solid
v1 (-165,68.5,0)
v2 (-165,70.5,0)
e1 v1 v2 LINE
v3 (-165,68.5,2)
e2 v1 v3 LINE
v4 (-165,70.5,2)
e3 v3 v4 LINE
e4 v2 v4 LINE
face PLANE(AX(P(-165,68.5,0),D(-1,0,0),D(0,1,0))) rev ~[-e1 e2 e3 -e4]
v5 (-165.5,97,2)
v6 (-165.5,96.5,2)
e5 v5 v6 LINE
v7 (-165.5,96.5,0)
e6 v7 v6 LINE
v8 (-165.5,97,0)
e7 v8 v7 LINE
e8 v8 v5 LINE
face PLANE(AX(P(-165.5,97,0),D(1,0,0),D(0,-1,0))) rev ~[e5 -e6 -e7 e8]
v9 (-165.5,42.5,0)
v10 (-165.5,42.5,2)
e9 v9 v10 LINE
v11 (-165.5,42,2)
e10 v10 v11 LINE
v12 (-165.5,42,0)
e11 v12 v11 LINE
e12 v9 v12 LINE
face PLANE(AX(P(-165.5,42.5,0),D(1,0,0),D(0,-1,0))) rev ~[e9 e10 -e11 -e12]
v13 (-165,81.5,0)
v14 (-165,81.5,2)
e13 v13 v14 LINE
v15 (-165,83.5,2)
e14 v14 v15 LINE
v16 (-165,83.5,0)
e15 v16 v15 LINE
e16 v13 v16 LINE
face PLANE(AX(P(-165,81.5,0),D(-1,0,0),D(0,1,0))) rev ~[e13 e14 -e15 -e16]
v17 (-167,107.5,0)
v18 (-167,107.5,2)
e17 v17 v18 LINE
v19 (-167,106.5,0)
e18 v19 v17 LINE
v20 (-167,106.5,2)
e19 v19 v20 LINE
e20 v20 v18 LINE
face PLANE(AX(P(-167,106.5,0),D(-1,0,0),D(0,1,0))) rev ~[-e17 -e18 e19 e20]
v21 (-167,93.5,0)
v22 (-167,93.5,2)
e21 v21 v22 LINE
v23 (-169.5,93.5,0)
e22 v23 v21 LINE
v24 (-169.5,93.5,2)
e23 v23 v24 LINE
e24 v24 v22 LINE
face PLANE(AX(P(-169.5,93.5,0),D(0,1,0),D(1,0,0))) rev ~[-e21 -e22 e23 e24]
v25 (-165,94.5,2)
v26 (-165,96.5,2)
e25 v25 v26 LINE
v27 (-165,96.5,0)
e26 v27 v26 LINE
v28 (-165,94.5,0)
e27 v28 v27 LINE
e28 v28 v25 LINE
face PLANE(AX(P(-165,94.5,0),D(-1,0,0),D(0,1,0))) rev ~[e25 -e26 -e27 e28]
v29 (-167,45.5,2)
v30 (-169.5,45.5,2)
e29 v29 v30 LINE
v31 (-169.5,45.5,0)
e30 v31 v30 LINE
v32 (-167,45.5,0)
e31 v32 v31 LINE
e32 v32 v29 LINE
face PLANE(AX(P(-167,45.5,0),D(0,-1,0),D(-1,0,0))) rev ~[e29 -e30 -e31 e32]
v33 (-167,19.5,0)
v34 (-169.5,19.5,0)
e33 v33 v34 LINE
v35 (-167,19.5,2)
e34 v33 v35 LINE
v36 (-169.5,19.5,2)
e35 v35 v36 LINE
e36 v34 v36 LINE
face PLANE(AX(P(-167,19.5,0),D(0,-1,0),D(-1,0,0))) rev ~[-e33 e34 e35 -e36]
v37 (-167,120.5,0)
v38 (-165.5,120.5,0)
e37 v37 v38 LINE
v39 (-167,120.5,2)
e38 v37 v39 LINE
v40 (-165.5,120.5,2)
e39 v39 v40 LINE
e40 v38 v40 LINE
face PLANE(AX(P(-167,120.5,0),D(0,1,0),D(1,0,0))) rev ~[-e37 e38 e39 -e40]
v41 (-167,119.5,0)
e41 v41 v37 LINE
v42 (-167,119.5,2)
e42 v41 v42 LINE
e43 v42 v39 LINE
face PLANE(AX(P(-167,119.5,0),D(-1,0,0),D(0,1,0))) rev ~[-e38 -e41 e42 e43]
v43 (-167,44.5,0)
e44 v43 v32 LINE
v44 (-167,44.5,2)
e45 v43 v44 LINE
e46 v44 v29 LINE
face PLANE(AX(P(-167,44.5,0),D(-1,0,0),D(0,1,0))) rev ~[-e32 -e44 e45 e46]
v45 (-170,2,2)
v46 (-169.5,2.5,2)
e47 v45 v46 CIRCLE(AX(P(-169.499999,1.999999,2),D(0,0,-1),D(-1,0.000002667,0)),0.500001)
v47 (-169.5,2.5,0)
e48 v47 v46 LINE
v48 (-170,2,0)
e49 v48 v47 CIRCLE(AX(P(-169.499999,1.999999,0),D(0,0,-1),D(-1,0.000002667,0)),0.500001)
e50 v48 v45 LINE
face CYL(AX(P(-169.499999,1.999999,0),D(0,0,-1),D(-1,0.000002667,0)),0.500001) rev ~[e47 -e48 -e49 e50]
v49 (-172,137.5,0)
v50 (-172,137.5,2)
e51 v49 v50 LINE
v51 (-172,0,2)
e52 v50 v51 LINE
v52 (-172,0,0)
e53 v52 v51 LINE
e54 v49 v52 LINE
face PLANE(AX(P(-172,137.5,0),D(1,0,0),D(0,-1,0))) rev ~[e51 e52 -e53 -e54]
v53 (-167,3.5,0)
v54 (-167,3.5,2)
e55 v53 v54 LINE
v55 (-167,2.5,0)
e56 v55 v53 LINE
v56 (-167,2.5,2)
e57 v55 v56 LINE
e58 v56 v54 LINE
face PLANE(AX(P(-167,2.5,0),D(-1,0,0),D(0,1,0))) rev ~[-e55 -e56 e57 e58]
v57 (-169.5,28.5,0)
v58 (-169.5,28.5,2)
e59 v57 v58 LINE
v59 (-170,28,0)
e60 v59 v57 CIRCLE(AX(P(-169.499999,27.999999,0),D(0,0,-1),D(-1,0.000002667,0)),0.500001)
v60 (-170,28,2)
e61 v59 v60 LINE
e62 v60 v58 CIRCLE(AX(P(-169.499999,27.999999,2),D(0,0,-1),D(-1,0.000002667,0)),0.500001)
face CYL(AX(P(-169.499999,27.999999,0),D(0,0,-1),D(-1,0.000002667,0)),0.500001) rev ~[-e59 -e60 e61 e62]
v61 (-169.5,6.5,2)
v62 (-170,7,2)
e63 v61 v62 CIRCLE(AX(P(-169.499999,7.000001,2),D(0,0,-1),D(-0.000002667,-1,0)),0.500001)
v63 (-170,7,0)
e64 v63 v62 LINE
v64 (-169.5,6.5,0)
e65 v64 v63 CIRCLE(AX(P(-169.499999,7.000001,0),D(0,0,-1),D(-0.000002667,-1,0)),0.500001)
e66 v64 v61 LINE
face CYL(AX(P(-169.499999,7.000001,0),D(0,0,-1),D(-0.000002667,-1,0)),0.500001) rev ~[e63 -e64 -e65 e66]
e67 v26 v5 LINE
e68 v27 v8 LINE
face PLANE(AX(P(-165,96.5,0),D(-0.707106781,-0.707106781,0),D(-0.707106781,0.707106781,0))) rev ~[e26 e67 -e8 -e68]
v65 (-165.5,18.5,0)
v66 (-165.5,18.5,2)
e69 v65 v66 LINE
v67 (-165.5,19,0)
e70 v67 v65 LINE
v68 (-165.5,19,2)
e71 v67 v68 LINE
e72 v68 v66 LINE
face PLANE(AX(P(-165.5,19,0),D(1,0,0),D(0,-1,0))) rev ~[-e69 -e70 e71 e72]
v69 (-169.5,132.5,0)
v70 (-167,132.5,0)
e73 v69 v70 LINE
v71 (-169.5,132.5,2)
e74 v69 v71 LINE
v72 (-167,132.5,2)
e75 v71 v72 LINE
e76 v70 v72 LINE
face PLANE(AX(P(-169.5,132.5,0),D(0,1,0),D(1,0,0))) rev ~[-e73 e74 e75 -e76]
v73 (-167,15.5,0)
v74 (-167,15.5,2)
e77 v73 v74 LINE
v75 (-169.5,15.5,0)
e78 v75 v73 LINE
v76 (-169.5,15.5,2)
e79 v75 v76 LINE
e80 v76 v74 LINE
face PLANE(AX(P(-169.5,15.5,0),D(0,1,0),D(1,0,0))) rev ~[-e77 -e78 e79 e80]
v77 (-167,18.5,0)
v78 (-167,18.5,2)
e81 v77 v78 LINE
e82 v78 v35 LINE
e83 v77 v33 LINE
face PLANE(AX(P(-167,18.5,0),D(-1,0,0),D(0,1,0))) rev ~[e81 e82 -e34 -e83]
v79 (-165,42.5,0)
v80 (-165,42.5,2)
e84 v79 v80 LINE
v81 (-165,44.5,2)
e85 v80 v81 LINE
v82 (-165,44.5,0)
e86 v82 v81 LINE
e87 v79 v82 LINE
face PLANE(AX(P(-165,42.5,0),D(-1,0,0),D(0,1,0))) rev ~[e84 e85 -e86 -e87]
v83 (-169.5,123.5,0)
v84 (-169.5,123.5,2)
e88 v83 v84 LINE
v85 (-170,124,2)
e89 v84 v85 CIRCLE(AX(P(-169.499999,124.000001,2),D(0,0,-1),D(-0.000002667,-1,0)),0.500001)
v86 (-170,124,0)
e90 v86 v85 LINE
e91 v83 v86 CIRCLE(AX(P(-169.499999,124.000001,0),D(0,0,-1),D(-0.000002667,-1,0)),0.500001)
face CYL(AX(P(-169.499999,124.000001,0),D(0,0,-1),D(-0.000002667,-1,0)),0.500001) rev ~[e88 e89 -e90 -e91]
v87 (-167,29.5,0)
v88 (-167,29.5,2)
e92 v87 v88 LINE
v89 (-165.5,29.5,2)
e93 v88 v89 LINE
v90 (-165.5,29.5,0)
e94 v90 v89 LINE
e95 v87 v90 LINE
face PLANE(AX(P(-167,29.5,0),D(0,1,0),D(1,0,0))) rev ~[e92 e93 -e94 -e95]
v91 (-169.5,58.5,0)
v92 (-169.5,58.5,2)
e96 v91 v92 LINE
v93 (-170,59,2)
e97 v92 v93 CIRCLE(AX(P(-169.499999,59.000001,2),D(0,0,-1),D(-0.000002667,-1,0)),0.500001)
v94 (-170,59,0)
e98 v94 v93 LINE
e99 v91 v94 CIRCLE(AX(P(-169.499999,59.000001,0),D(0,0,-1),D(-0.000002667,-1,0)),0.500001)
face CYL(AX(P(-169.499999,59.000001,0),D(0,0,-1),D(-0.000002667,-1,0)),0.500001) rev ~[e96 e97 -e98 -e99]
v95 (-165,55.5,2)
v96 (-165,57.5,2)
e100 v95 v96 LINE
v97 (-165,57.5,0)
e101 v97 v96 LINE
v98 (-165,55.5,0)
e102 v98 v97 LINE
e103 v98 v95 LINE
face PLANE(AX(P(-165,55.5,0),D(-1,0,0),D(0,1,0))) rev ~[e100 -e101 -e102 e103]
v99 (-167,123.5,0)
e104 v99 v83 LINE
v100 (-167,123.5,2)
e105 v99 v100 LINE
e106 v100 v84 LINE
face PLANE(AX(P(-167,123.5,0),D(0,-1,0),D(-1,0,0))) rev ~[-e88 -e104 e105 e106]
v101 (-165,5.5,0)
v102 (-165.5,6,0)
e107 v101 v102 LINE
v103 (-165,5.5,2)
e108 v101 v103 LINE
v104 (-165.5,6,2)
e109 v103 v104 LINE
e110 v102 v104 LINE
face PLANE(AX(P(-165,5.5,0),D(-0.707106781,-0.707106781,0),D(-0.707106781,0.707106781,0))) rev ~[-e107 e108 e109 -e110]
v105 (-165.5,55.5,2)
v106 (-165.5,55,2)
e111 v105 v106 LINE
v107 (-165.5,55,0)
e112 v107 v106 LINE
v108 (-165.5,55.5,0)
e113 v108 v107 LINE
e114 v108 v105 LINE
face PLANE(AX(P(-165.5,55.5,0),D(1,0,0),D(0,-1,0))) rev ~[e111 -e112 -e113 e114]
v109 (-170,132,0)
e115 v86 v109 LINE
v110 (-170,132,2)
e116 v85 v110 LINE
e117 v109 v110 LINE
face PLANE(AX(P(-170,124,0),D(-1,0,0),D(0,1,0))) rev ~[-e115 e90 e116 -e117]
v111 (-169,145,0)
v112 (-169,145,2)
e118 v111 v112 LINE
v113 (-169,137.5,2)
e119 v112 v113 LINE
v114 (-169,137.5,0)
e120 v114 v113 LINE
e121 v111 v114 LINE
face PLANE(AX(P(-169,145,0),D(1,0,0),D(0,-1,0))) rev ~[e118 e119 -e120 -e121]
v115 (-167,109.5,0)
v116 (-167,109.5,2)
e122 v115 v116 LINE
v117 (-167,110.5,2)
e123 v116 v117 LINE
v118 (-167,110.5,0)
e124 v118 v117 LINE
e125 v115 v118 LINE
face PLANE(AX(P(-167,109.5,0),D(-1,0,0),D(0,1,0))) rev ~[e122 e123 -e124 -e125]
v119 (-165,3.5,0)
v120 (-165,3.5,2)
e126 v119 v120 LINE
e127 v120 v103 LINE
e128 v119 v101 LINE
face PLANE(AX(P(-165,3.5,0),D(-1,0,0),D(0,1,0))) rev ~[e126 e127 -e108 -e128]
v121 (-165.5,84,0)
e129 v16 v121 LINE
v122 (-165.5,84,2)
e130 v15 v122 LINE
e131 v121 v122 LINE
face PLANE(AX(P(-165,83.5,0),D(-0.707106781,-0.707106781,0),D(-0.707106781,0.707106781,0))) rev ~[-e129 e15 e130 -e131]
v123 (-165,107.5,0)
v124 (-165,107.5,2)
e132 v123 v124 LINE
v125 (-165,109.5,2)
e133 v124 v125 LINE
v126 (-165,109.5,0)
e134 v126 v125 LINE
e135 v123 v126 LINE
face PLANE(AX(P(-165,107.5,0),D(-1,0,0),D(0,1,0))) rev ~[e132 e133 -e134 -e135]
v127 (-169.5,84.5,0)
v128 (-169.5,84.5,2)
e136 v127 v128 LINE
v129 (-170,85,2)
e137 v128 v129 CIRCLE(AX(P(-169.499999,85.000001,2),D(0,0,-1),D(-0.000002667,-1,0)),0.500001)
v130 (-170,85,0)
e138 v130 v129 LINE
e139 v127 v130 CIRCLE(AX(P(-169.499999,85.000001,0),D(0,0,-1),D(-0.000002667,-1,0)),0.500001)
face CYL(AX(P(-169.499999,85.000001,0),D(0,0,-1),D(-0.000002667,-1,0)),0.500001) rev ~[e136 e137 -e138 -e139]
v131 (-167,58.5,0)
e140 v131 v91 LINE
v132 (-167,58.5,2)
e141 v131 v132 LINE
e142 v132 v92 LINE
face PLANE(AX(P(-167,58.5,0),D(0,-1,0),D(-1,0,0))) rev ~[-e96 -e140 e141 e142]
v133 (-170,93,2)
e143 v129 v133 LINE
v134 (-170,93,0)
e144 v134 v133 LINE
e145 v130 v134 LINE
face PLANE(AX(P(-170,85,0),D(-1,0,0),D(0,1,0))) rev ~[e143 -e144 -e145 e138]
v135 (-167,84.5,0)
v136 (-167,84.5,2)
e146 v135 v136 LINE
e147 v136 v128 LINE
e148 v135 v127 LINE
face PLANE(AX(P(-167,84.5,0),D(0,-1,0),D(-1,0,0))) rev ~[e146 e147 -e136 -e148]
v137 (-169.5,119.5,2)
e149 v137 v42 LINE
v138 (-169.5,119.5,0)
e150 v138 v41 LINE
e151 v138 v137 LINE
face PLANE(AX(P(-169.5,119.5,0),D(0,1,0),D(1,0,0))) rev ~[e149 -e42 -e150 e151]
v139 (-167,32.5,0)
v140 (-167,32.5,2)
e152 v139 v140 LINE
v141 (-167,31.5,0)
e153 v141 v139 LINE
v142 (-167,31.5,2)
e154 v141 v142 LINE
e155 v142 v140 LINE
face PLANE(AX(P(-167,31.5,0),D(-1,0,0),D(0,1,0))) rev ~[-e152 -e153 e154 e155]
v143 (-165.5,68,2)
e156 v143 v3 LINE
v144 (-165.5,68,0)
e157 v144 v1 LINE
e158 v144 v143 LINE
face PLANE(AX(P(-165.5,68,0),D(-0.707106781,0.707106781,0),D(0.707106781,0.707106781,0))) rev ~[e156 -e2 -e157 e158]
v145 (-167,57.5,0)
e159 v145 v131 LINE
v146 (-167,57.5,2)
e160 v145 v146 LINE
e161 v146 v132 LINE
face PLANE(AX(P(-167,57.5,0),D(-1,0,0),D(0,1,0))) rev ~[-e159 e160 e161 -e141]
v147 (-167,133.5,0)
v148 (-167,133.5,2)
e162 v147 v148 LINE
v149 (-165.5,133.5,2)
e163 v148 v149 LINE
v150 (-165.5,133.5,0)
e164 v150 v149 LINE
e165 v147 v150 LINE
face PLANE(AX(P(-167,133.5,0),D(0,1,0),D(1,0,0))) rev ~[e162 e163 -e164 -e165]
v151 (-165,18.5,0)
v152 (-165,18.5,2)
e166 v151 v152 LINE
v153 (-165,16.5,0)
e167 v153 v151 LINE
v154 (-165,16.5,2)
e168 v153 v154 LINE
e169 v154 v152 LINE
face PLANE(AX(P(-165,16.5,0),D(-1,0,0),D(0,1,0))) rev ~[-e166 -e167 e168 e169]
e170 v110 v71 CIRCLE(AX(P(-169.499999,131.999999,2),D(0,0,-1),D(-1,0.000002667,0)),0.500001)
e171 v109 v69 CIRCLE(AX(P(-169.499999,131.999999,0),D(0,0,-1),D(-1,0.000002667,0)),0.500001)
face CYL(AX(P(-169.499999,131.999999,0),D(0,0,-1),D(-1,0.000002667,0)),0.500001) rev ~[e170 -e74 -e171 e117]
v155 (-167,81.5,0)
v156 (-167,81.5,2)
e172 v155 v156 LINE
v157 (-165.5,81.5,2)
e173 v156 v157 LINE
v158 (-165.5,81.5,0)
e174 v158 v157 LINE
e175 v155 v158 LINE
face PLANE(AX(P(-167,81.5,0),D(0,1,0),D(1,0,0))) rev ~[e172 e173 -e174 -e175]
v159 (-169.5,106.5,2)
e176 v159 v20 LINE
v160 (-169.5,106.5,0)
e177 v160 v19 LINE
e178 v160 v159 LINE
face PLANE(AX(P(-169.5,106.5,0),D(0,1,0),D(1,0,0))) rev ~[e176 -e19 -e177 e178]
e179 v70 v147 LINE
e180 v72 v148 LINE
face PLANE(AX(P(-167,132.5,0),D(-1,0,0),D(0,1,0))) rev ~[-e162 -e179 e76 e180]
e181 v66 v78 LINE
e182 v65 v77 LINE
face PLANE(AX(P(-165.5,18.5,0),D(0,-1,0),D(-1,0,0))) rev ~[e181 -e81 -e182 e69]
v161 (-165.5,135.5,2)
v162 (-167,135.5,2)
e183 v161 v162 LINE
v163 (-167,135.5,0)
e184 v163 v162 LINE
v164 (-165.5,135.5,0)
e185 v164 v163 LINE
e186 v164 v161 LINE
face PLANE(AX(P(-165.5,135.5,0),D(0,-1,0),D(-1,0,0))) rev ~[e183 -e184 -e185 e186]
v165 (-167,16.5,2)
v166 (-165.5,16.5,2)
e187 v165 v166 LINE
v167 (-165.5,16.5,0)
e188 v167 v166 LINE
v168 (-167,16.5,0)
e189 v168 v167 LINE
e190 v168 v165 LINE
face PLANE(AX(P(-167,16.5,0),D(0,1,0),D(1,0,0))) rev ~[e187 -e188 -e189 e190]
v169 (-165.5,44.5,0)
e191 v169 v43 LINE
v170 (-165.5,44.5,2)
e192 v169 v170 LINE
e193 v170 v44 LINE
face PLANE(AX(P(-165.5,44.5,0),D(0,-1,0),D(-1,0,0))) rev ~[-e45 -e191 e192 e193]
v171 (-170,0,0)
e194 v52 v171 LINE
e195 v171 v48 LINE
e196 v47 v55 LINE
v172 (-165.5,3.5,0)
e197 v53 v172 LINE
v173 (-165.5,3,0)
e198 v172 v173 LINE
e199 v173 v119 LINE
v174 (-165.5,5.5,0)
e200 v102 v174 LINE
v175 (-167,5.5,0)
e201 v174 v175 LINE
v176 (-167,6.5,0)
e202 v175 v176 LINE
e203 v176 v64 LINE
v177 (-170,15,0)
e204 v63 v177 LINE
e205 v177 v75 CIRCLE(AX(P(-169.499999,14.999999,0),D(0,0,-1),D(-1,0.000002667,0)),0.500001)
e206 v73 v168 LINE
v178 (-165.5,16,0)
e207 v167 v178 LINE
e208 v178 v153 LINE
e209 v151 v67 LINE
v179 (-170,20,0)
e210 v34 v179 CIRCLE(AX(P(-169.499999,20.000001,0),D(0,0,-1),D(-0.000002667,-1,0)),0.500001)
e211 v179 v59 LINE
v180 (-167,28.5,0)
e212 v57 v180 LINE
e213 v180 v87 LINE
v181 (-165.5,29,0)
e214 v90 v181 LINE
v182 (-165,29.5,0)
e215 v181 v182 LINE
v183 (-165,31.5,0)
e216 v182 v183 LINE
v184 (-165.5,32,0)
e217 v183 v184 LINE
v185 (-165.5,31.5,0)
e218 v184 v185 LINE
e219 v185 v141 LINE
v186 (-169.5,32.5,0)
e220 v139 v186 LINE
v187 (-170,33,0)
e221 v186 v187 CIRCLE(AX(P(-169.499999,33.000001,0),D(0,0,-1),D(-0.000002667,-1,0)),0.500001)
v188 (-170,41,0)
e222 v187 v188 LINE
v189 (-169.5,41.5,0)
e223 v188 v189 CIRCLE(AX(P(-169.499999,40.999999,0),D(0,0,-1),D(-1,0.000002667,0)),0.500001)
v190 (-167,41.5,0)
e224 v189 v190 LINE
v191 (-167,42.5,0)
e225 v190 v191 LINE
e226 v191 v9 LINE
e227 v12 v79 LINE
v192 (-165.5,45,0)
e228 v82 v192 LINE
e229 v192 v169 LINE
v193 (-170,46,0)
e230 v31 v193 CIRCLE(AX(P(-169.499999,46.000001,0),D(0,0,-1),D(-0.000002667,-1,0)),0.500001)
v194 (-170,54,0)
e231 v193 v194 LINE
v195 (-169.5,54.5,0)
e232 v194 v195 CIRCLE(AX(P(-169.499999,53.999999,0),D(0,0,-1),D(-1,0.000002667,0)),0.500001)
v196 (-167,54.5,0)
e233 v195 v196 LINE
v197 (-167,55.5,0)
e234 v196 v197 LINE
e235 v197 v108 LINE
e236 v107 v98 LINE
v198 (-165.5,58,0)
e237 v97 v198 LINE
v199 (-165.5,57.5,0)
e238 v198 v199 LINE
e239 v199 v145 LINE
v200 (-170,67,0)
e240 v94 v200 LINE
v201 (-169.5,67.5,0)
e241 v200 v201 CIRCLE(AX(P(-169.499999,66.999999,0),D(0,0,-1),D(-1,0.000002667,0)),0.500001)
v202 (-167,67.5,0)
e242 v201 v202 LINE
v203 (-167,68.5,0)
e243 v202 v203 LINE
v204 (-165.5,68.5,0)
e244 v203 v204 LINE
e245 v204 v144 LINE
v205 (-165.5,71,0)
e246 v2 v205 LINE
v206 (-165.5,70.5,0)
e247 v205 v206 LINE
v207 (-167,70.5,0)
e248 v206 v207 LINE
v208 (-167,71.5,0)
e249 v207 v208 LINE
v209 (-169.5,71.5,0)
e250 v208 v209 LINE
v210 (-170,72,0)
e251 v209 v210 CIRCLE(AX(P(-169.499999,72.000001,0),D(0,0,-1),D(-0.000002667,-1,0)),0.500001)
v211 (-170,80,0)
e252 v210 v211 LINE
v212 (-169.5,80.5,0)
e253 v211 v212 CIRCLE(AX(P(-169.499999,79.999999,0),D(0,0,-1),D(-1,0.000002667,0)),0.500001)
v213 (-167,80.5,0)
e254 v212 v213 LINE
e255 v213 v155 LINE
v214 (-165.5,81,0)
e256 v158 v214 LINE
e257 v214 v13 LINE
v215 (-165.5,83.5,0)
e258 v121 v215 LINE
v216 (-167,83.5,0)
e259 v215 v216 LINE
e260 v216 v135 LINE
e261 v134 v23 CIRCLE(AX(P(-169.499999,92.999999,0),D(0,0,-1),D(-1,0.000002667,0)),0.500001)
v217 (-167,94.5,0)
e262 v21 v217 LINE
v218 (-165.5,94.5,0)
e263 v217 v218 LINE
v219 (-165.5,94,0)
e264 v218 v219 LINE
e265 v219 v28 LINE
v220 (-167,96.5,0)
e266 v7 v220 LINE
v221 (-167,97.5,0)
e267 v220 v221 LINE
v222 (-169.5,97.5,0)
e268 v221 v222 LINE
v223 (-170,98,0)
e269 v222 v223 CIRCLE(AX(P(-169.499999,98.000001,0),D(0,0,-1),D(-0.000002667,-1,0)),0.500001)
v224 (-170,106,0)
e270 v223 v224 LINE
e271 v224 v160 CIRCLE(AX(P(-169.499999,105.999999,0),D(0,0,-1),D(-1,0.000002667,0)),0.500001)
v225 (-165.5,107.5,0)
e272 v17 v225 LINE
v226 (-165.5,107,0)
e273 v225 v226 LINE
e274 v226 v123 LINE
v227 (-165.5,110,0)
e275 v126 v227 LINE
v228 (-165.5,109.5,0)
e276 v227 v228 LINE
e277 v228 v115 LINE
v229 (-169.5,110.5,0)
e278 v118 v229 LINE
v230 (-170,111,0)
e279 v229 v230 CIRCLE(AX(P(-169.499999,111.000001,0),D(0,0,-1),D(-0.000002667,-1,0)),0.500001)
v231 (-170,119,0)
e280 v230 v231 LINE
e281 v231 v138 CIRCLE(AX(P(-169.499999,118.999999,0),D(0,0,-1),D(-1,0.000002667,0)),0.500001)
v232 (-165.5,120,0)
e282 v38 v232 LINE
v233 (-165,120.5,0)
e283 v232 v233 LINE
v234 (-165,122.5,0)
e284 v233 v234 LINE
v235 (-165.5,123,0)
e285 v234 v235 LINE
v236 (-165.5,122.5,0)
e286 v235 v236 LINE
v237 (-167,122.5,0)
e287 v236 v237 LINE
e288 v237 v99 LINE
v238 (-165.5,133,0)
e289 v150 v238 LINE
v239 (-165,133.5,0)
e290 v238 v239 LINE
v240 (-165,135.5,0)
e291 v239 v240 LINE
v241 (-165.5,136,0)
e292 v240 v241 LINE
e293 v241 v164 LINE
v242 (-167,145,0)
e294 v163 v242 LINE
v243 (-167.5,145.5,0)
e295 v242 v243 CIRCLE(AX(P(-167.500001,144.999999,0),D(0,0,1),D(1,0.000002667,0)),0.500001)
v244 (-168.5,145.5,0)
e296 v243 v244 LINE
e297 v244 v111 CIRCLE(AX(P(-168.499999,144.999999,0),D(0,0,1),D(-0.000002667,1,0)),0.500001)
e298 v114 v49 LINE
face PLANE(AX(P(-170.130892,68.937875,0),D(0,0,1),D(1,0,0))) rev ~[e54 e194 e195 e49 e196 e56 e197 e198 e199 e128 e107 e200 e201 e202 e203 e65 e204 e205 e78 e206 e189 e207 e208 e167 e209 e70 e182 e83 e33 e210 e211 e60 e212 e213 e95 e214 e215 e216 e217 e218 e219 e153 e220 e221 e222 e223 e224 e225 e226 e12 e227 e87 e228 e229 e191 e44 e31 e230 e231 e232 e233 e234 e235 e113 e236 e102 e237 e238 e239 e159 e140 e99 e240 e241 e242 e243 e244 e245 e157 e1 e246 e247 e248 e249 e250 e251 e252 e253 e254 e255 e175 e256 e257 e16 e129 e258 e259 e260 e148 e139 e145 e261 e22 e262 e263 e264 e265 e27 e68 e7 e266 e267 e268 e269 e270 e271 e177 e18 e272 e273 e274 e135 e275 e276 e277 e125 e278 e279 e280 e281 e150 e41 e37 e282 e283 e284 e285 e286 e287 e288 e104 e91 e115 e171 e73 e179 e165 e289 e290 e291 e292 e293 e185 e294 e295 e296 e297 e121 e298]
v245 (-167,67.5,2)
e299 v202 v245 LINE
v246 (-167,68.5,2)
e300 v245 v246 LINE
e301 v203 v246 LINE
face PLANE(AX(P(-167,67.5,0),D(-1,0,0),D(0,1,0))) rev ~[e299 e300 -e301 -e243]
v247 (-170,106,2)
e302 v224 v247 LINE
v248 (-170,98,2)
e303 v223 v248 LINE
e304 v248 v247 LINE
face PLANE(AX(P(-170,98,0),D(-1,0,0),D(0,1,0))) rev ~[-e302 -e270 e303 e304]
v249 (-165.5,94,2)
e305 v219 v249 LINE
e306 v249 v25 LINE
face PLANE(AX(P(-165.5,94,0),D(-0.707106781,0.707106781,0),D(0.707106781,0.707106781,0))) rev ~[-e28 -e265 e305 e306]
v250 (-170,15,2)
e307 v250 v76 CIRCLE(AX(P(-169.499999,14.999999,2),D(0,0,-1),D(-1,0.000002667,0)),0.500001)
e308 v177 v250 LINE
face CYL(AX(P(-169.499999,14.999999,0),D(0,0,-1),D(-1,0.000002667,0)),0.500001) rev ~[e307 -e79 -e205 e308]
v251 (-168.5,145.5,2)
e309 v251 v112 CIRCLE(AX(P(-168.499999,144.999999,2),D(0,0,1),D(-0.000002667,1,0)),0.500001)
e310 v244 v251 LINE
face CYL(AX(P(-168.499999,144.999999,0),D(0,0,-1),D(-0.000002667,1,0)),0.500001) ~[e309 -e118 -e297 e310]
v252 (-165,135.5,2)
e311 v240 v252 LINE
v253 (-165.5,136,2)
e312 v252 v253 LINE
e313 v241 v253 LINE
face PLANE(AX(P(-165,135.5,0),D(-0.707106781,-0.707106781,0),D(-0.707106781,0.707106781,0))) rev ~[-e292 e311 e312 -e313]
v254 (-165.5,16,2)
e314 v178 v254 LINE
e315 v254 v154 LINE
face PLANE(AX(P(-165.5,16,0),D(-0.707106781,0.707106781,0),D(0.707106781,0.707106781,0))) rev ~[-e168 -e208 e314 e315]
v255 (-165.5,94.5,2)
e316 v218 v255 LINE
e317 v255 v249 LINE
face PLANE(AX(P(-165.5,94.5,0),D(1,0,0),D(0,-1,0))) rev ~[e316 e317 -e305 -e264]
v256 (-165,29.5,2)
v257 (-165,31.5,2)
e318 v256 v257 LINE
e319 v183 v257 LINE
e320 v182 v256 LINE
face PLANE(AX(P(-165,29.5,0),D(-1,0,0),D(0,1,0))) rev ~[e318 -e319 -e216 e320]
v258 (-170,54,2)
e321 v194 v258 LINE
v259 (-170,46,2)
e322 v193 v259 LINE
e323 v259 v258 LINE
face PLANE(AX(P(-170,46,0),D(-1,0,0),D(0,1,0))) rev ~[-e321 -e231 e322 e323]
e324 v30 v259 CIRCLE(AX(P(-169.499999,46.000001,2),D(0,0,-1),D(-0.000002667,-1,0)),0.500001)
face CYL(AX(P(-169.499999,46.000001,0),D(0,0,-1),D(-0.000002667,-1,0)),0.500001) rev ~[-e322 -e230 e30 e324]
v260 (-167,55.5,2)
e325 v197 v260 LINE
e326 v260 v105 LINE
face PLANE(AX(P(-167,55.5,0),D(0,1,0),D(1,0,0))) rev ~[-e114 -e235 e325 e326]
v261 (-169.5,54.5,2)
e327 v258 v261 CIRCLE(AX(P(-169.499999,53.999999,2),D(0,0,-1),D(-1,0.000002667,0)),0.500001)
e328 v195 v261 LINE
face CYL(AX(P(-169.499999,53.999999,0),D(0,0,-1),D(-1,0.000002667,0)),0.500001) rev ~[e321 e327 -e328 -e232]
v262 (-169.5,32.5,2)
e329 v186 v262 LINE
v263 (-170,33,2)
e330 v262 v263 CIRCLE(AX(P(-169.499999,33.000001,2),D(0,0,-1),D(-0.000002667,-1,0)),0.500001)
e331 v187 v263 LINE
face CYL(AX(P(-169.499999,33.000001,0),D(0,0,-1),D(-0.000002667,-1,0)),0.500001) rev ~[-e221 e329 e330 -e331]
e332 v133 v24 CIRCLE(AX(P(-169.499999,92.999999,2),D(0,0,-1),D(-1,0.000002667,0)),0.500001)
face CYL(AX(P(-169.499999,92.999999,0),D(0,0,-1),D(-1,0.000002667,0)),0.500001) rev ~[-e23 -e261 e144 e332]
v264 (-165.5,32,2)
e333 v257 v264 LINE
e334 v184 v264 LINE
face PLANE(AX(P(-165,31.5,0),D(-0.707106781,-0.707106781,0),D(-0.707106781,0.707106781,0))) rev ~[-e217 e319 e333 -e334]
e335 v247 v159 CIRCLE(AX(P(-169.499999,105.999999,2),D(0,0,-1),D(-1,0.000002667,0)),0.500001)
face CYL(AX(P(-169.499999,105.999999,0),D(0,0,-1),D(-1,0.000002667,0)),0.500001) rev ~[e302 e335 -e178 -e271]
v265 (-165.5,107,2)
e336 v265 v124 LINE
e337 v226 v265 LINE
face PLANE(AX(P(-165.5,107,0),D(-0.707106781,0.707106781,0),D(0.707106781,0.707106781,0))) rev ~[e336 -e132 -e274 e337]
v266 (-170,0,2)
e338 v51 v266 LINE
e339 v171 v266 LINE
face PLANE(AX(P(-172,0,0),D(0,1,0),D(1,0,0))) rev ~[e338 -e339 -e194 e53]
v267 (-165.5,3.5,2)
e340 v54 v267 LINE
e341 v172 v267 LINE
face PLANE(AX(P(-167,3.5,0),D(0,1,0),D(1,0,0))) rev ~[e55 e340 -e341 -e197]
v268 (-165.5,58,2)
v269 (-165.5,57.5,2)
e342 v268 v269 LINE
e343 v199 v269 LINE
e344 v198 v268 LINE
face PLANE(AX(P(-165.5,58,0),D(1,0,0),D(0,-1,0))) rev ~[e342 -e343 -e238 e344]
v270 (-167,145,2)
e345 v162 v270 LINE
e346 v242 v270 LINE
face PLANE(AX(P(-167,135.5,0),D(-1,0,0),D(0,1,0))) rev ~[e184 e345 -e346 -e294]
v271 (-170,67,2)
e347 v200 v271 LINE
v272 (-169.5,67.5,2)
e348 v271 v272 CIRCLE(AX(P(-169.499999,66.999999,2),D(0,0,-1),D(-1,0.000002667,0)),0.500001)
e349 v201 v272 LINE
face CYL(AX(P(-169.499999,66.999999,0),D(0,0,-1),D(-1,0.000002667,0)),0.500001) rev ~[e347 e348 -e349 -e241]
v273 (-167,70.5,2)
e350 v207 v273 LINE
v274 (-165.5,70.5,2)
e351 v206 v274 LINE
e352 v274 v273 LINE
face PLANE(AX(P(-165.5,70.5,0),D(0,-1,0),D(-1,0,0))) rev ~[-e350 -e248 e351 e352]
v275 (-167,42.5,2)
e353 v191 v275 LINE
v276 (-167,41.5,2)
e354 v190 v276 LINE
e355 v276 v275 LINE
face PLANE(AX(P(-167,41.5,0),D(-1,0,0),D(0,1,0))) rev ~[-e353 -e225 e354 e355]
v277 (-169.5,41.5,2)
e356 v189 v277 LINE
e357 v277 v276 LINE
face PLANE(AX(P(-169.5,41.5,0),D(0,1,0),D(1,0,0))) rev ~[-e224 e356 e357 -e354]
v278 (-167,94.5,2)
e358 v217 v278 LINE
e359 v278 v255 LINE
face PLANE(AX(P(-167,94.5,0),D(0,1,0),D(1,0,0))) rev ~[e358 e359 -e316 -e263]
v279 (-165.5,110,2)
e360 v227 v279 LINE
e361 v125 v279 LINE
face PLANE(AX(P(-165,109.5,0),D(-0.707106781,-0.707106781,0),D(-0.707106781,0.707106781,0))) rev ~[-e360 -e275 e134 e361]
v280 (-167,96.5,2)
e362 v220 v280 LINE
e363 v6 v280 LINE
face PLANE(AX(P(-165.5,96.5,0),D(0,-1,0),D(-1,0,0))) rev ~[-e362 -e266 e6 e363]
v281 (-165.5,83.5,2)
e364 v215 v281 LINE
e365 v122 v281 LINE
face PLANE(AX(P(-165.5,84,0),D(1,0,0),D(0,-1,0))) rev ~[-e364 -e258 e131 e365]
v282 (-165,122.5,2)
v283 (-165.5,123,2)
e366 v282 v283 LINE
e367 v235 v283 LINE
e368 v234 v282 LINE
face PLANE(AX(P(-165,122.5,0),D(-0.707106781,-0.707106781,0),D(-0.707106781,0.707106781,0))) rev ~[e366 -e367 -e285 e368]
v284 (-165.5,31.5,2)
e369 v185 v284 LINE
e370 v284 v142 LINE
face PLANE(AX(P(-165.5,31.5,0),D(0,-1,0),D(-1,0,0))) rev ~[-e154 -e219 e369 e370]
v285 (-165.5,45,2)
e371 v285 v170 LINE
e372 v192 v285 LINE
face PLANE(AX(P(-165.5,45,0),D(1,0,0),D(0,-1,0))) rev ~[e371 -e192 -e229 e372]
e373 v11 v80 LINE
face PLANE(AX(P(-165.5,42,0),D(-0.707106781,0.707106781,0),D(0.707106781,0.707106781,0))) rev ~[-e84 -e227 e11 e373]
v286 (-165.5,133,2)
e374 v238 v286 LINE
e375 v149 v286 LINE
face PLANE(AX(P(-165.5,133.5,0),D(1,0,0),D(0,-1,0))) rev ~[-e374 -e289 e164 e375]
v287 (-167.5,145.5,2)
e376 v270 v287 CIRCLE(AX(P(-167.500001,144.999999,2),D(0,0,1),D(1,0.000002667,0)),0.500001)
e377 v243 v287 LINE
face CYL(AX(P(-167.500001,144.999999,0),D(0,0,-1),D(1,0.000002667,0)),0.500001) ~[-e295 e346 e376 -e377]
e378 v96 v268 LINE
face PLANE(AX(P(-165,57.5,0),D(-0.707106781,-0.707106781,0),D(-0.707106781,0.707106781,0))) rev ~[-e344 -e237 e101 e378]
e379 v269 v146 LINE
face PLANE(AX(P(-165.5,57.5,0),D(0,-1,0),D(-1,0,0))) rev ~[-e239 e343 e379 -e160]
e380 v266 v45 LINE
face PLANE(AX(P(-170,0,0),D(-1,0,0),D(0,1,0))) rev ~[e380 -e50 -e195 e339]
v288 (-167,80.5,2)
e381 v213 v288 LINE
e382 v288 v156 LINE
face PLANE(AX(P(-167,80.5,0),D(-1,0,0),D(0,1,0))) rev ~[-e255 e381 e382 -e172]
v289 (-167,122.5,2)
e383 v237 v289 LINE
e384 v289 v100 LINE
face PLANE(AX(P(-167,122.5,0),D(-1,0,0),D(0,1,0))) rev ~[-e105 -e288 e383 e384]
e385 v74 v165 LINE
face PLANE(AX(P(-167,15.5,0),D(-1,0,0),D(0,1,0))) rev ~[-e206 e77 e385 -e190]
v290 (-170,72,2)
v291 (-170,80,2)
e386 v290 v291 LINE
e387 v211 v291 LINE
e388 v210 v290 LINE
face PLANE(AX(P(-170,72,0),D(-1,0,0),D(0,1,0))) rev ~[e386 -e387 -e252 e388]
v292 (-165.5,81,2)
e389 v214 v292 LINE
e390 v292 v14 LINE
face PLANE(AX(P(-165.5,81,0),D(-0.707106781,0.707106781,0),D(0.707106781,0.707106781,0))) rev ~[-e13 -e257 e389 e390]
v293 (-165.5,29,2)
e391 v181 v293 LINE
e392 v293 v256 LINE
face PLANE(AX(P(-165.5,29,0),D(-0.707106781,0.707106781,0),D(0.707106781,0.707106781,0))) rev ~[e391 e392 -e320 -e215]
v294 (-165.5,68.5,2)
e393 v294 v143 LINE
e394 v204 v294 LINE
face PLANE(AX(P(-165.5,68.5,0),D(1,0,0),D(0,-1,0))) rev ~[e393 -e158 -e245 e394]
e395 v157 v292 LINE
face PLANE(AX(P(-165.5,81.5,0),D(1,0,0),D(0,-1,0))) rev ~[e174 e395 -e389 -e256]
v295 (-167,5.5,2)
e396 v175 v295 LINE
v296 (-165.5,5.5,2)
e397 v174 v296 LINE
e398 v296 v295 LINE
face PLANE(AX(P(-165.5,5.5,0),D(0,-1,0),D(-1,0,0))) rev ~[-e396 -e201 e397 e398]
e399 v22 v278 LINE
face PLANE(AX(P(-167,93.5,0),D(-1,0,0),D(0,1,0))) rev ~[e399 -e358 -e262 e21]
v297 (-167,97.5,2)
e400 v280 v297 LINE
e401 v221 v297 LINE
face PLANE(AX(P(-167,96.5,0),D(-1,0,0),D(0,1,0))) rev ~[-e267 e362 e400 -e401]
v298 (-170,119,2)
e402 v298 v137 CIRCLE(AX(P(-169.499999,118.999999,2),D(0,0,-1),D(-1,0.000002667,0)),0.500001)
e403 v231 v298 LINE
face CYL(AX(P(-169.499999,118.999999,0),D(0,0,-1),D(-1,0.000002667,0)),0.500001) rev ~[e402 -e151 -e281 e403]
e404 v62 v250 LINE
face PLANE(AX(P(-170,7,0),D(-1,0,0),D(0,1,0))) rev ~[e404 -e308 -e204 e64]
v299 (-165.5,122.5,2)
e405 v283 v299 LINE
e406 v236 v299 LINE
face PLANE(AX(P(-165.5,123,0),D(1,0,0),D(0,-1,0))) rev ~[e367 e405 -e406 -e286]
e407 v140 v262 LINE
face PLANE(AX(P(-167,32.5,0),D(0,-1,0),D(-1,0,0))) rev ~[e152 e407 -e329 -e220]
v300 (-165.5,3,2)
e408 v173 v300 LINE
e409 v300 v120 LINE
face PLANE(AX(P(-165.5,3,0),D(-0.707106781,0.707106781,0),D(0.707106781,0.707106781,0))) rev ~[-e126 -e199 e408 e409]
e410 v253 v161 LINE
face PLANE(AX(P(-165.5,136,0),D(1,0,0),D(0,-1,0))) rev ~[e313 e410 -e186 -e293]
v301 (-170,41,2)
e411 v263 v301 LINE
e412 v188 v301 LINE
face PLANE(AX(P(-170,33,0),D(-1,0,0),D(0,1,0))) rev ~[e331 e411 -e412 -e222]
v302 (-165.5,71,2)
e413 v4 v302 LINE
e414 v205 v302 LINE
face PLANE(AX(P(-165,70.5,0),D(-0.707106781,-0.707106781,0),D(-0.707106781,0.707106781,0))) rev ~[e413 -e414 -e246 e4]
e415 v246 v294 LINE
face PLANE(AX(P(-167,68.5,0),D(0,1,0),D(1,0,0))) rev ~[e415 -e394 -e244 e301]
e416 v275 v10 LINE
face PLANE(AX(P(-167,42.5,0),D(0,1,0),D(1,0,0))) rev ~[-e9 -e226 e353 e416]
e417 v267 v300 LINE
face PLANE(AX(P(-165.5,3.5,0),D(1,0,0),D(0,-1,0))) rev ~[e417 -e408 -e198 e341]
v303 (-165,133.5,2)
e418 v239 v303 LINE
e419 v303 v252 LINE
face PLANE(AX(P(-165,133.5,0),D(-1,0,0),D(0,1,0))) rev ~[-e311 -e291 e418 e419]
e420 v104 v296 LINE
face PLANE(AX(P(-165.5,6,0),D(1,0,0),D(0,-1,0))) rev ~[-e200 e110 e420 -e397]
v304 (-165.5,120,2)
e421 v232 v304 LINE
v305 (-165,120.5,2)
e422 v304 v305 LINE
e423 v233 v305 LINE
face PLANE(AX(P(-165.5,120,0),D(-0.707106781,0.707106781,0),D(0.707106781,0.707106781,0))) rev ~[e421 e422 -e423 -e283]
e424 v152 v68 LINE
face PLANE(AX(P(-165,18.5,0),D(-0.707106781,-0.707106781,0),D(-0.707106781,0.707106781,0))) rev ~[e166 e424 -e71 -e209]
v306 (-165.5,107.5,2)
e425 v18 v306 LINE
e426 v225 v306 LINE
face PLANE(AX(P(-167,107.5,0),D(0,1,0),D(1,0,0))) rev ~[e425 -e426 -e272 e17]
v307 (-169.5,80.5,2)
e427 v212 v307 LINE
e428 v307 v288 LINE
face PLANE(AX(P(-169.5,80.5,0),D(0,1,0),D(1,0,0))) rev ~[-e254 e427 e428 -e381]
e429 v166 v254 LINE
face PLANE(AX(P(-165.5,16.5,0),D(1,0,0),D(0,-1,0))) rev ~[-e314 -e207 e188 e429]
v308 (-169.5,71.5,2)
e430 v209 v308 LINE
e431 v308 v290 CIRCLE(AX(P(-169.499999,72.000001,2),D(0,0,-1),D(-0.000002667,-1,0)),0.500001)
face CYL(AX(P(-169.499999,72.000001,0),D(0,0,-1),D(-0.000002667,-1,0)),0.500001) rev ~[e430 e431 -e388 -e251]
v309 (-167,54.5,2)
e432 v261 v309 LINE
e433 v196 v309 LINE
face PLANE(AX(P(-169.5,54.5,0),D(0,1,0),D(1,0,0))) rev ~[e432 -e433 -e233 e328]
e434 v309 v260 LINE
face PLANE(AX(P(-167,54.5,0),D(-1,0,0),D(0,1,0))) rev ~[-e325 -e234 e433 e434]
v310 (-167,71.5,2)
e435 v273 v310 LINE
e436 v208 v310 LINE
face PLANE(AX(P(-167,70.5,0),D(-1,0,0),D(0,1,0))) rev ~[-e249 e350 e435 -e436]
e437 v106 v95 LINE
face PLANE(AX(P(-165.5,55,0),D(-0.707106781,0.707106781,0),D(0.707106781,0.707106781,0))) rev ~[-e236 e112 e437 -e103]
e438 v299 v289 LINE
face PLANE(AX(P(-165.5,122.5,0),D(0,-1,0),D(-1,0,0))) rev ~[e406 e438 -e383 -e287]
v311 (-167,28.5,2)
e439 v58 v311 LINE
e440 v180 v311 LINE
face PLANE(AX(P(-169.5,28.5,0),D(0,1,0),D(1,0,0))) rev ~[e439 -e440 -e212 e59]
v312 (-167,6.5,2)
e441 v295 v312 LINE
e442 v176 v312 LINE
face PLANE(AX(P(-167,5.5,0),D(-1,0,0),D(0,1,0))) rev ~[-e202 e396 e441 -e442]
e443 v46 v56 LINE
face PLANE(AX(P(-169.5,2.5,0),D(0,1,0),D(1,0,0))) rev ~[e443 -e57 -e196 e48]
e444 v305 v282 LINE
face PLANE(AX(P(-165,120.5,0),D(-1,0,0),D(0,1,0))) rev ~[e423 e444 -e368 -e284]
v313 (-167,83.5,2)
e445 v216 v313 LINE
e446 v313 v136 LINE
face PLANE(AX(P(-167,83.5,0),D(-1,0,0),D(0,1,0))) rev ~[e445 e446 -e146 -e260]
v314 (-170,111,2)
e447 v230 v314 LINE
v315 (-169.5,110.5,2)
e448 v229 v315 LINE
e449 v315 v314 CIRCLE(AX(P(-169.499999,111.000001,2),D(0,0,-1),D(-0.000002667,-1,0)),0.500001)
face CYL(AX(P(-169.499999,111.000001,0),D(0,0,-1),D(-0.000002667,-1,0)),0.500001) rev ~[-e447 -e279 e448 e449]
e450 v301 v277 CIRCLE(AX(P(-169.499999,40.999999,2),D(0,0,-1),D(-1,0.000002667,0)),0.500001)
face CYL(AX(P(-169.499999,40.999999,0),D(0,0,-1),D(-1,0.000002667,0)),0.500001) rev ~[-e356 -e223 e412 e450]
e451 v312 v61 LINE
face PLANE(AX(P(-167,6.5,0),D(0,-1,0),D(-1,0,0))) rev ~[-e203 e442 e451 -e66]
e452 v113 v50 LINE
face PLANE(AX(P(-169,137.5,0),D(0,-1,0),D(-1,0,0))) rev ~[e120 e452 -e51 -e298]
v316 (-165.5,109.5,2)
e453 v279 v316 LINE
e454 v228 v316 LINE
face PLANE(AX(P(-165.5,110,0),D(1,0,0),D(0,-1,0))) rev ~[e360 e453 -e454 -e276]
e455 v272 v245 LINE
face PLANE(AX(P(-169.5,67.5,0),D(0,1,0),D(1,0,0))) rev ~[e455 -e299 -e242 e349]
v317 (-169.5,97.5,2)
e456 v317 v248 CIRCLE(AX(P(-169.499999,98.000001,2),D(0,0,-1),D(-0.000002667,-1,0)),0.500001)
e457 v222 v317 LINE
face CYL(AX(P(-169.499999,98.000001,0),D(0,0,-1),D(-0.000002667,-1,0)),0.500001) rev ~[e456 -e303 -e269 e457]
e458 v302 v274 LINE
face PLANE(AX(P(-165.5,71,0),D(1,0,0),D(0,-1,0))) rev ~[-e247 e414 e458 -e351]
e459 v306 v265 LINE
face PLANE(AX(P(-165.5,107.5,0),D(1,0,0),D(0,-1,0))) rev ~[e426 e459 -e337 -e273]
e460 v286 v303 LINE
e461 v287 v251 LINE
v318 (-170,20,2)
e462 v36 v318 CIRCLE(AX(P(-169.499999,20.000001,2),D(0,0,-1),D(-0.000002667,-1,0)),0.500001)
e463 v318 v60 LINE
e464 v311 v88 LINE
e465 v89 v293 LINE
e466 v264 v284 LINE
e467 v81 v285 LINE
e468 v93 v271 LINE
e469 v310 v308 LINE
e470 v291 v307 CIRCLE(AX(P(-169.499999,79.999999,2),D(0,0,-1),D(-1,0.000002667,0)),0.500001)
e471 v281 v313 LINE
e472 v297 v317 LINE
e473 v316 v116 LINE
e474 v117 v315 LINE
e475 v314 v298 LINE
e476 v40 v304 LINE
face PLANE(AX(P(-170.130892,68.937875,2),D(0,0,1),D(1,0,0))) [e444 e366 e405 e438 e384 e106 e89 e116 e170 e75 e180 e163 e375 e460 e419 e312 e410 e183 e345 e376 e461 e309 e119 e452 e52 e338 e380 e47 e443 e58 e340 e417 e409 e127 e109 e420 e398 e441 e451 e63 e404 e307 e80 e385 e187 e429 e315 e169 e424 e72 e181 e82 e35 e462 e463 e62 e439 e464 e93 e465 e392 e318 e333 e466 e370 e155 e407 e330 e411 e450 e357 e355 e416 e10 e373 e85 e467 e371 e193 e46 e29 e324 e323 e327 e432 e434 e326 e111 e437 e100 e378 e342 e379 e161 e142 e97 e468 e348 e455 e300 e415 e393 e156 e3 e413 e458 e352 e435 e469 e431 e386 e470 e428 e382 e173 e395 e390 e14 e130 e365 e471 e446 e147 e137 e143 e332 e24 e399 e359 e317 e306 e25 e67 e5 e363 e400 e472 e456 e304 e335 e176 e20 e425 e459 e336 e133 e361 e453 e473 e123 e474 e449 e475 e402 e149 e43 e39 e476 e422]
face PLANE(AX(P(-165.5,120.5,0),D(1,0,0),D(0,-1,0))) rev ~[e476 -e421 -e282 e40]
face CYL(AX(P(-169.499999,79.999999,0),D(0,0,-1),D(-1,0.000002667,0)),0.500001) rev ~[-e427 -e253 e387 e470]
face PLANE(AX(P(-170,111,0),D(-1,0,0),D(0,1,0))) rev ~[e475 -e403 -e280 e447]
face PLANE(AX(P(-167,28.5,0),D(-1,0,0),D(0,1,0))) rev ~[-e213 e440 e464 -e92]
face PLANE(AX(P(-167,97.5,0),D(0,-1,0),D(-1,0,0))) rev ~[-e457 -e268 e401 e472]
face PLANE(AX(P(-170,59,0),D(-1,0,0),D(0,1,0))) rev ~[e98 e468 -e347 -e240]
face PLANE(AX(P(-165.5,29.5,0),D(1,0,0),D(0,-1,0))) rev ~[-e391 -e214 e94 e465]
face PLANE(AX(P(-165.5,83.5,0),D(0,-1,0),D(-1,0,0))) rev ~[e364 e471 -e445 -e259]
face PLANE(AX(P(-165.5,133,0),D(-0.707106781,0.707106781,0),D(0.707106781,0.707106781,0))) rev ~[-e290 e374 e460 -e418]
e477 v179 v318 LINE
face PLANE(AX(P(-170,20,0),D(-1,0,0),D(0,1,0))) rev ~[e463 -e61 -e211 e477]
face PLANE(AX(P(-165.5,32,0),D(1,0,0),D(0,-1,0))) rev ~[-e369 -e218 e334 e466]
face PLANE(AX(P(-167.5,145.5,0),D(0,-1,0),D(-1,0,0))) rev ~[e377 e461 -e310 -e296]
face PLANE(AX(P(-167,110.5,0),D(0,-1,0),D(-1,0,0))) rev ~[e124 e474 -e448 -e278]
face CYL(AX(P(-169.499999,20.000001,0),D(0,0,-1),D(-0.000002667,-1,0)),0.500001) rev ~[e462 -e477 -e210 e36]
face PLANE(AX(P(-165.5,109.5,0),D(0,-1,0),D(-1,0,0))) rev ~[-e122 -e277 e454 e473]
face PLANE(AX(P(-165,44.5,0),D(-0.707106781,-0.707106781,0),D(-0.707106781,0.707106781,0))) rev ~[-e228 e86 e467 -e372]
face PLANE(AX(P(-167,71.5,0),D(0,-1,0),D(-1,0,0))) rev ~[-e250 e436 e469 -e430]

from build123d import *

# Parameters (mm, degrees)
F1_DEPTH = 2


with BuildPart() as f1:
    # F0 (on Top) → F1 (new body)
    with BuildSketch(Plane.XY):
        with BuildLine():
            Line((-167, 135.5), (-167, 137.5))
            Line((-167, 137.5), (-169, 137.5))
            Line((-169, 137.5), (-172, 137.5))
            Line((-172, 137.5), (-172, 0))
            Line((-172, 0), (-170, 0))
            Line((-170, 0), (-170, 2))
            ThreePointArc((-170, 2), (-169.853553, 2.353553), (-169.5, 2.5))
            Line((-169.5, 2.5), (-167, 2.5))
            Line((-167, 2.5), (-167, 3.5))
            Line((-167, 3.5), (-167, 5.5))
            Line((-167, 5.5), (-167, 6.5))
            Line((-167, 6.5), (-169.5, 6.5))
            ThreePointArc((-169.5, 6.5), (-169.853553, 6.646447), (-170, 7))
            Line((-170, 7), (-170, 15))
            ThreePointArc((-170, 15), (-169.853553, 15.353553), (-169.5, 15.5))
            Line((-169.5, 15.5), (-167, 15.5))
            Line((-167, 15.5), (-167, 16.5))
            Line((-167, 16.5), (-167, 18.5))
            Line((-167, 18.5), (-167, 19.5))
            Line((-167, 19.5), (-169.5, 19.5))
            ThreePointArc((-169.5, 19.5), (-169.853553, 19.646447), (-170, 20))
            Line((-170, 20), (-170, 28))
            ThreePointArc((-170, 28), (-169.853553, 28.353553), (-169.5, 28.5))
            Line((-169.5, 28.5), (-167, 28.5))
            Line((-167, 28.5), (-167, 29.5))
            Line((-167, 29.5), (-167, 31.5))
            Line((-167, 31.5), (-167, 32.5))
            Line((-167, 32.5), (-169.5, 32.5))
            ThreePointArc((-169.5, 32.5), (-169.853553, 32.646447), (-170, 33))
            Line((-170, 33), (-170, 41))
            ThreePointArc((-170, 41), (-169.853553, 41.353553), (-169.5, 41.5))
            Line((-169.5, 41.5), (-167, 41.5))
            Line((-167, 41.5), (-167, 42.5))
            Line((-167, 42.5), (-167, 44.5))
            Line((-167, 44.5), (-167, 45.5))
            Line((-167, 45.5), (-169.5, 45.5))
            ThreePointArc((-169.5, 45.5), (-169.853553, 45.646447), (-170, 46))
            Line((-170, 46), (-170, 54))
            ThreePointArc((-170, 54), (-169.853553, 54.353553), (-169.5, 54.5))
            Line((-169.5, 54.5), (-167, 54.5))
            Line((-167, 54.5), (-167, 55.5))
            Line((-167, 55.5), (-167, 57.5))
            Line((-167, 57.5), (-167, 58.5))
            Line((-167, 58.5), (-169.5, 58.5))
            ThreePointArc((-169.5, 58.5), (-169.853553, 58.646447), (-170, 59))
            Line((-170, 59), (-170, 67))
            ThreePointArc((-170, 67), (-169.853553, 67.353553), (-169.5, 67.5))
            Line((-169.5, 67.5), (-167, 67.5))
            Line((-167, 67.5), (-167, 68.5))
            Line((-167, 68.5), (-167, 70.5))
            Line((-167, 70.5), (-167, 71.5))
            Line((-167, 71.5), (-169.5, 71.5))
            ThreePointArc((-169.5, 71.5), (-169.853553, 71.646447), (-170, 72))
            Line((-170, 72), (-170, 80))
            ThreePointArc((-170, 80), (-169.853553, 80.353553), (-169.5, 80.5))
            Line((-169.5, 80.5), (-167, 80.5))
            Line((-167, 80.5), (-167, 81.5))
            Line((-167, 81.5), (-167, 83.5))
            Line((-167, 83.5), (-167, 84.5))
            Line((-167, 84.5), (-169.5, 84.5))
            ThreePointArc((-169.5, 84.5), (-169.853553, 84.646447), (-170, 85))
            Line((-170, 85), (-170, 93))
            ThreePointArc((-170, 93), (-169.853553, 93.353553), (-169.5, 93.5))
            Line((-169.5, 93.5), (-167, 93.5))
            Line((-167, 93.5), (-167, 94.5))
            Line((-167, 94.5), (-167, 96.5))
            Line((-167, 96.5), (-167, 97.5))
            Line((-167, 97.5), (-169.5, 97.5))
            ThreePointArc((-169.5, 97.5), (-169.853553, 97.646447), (-170, 98))
            Line((-170, 98), (-170, 106))
            ThreePointArc((-170, 106), (-169.853553, 106.353553), (-169.5, 106.5))
            Line((-169.5, 106.5), (-167, 106.5))
            Line((-167, 106.5), (-167, 107.5))
            Line((-167, 107.5), (-167, 109.5))
            Line((-167, 109.5), (-167, 110.5))
            Line((-167, 110.5), (-169.5, 110.5))
            ThreePointArc((-169.5, 110.5), (-169.853553, 110.646447), (-170, 111))
            Line((-170, 111), (-170, 119))
            ThreePointArc((-170, 119), (-169.853553, 119.353553), (-169.5, 119.5))
            Line((-169.5, 119.5), (-167, 119.5))
            Line((-167, 119.5), (-167, 120.5))
            Line((-167, 120.5), (-167, 122.5))
            Line((-167, 122.5), (-167, 123.5))
            Line((-167, 123.5), (-169.5, 123.5))
            ThreePointArc((-169.5, 123.5), (-169.853553, 123.646447), (-170, 124))
            Line((-170, 124), (-170, 132))
            ThreePointArc((-170, 132), (-169.853553, 132.353553), (-169.5, 132.5))
            Line((-169.5, 132.5), (-167, 132.5))
            Line((-167, 132.5), (-167, 133.5))
            Line((-167, 133.5), (-167, 135.5))
        make_face()
        Polygon((-167, 5.5), (-167, 3.5), (-165.5, 3.5), (-165.5, 3), (-165, 3.5), (-165, 5.5), (-165.5, 6), (-165.5, 5.5), align=None)
        Polygon((-167, 18.5), (-167, 16.5), (-165.5, 16.5), (-165.5, 16), (-165, 16.5), (-165, 18.5), (-165.5, 19), (-165.5, 18.5), align=None)
        Polygon((-167, 31.5), (-167, 29.5), (-165.5, 29.5), (-165.5, 29), (-165, 29.5), (-165, 31.5), (-165.5, 32), (-165.5, 31.5), align=None)
        Polygon((-167, 44.5), (-167, 42.5), (-165.5, 42.5), (-165.5, 42), (-165, 42.5), (-165, 44.5), (-165.5, 45), (-165.5, 44.5), align=None)
        Polygon((-167, 57.5), (-167, 55.5), (-165.5, 55.5), (-165.5, 55), (-165, 55.5), (-165, 57.5), (-165.5, 58), (-165.5, 57.5), align=None)
        Polygon((-165.5, 70.5), (-167, 70.5), (-167, 68.5), (-165.5, 68.5), (-165.5, 68), (-165, 68.5), (-165, 70.5), (-165.5, 71), align=None)
        Polygon((-165.5, 83.5), (-167, 83.5), (-167, 81.5), (-165.5, 81.5), (-165.5, 81), (-165, 81.5), (-165, 83.5), (-165.5, 84), align=None)
        Polygon((-165.5, 96.5), (-167, 96.5), (-167, 94.5), (-165.5, 94.5), (-165.5, 94), (-165, 94.5), (-165, 96.5), (-165.5, 97), align=None)
        Polygon((-165.5, 109.5), (-167, 109.5), (-167, 107.5), (-165.5, 107.5), (-165.5, 107), (-165, 107.5), (-165, 109.5), (-165.5, 110), align=None)
        Polygon((-165.5, 122.5), (-167, 122.5), (-167, 120.5), (-165.5, 120.5), (-165.5, 120), (-165, 120.5), (-165, 122.5), (-165.5, 123), align=None)
        Polygon((-165.5, 135.5), (-167, 135.5), (-167, 133.5), (-165.5, 133.5), (-165.5, 133), (-165, 133.5), (-165, 135.5), (-165.5, 136), align=None)
        with BuildLine():
            Line((-169, 137.5), (-167, 137.5))
            Line((-167, 137.5), (-167, 145))
            ThreePointArc((-167, 145), (-167.146447, 145.353553), (-167.5, 145.5))
            Line((-167.5, 145.5), (-168.5, 145.5))
            ThreePointArc((-168.5, 145.5), (-168.853553, 145.353553), (-169, 145))
            Line((-169, 145), (-169, 137.5))
        make_face()
    extrude(amount=F1_DEPTH)


solid = f1.part
